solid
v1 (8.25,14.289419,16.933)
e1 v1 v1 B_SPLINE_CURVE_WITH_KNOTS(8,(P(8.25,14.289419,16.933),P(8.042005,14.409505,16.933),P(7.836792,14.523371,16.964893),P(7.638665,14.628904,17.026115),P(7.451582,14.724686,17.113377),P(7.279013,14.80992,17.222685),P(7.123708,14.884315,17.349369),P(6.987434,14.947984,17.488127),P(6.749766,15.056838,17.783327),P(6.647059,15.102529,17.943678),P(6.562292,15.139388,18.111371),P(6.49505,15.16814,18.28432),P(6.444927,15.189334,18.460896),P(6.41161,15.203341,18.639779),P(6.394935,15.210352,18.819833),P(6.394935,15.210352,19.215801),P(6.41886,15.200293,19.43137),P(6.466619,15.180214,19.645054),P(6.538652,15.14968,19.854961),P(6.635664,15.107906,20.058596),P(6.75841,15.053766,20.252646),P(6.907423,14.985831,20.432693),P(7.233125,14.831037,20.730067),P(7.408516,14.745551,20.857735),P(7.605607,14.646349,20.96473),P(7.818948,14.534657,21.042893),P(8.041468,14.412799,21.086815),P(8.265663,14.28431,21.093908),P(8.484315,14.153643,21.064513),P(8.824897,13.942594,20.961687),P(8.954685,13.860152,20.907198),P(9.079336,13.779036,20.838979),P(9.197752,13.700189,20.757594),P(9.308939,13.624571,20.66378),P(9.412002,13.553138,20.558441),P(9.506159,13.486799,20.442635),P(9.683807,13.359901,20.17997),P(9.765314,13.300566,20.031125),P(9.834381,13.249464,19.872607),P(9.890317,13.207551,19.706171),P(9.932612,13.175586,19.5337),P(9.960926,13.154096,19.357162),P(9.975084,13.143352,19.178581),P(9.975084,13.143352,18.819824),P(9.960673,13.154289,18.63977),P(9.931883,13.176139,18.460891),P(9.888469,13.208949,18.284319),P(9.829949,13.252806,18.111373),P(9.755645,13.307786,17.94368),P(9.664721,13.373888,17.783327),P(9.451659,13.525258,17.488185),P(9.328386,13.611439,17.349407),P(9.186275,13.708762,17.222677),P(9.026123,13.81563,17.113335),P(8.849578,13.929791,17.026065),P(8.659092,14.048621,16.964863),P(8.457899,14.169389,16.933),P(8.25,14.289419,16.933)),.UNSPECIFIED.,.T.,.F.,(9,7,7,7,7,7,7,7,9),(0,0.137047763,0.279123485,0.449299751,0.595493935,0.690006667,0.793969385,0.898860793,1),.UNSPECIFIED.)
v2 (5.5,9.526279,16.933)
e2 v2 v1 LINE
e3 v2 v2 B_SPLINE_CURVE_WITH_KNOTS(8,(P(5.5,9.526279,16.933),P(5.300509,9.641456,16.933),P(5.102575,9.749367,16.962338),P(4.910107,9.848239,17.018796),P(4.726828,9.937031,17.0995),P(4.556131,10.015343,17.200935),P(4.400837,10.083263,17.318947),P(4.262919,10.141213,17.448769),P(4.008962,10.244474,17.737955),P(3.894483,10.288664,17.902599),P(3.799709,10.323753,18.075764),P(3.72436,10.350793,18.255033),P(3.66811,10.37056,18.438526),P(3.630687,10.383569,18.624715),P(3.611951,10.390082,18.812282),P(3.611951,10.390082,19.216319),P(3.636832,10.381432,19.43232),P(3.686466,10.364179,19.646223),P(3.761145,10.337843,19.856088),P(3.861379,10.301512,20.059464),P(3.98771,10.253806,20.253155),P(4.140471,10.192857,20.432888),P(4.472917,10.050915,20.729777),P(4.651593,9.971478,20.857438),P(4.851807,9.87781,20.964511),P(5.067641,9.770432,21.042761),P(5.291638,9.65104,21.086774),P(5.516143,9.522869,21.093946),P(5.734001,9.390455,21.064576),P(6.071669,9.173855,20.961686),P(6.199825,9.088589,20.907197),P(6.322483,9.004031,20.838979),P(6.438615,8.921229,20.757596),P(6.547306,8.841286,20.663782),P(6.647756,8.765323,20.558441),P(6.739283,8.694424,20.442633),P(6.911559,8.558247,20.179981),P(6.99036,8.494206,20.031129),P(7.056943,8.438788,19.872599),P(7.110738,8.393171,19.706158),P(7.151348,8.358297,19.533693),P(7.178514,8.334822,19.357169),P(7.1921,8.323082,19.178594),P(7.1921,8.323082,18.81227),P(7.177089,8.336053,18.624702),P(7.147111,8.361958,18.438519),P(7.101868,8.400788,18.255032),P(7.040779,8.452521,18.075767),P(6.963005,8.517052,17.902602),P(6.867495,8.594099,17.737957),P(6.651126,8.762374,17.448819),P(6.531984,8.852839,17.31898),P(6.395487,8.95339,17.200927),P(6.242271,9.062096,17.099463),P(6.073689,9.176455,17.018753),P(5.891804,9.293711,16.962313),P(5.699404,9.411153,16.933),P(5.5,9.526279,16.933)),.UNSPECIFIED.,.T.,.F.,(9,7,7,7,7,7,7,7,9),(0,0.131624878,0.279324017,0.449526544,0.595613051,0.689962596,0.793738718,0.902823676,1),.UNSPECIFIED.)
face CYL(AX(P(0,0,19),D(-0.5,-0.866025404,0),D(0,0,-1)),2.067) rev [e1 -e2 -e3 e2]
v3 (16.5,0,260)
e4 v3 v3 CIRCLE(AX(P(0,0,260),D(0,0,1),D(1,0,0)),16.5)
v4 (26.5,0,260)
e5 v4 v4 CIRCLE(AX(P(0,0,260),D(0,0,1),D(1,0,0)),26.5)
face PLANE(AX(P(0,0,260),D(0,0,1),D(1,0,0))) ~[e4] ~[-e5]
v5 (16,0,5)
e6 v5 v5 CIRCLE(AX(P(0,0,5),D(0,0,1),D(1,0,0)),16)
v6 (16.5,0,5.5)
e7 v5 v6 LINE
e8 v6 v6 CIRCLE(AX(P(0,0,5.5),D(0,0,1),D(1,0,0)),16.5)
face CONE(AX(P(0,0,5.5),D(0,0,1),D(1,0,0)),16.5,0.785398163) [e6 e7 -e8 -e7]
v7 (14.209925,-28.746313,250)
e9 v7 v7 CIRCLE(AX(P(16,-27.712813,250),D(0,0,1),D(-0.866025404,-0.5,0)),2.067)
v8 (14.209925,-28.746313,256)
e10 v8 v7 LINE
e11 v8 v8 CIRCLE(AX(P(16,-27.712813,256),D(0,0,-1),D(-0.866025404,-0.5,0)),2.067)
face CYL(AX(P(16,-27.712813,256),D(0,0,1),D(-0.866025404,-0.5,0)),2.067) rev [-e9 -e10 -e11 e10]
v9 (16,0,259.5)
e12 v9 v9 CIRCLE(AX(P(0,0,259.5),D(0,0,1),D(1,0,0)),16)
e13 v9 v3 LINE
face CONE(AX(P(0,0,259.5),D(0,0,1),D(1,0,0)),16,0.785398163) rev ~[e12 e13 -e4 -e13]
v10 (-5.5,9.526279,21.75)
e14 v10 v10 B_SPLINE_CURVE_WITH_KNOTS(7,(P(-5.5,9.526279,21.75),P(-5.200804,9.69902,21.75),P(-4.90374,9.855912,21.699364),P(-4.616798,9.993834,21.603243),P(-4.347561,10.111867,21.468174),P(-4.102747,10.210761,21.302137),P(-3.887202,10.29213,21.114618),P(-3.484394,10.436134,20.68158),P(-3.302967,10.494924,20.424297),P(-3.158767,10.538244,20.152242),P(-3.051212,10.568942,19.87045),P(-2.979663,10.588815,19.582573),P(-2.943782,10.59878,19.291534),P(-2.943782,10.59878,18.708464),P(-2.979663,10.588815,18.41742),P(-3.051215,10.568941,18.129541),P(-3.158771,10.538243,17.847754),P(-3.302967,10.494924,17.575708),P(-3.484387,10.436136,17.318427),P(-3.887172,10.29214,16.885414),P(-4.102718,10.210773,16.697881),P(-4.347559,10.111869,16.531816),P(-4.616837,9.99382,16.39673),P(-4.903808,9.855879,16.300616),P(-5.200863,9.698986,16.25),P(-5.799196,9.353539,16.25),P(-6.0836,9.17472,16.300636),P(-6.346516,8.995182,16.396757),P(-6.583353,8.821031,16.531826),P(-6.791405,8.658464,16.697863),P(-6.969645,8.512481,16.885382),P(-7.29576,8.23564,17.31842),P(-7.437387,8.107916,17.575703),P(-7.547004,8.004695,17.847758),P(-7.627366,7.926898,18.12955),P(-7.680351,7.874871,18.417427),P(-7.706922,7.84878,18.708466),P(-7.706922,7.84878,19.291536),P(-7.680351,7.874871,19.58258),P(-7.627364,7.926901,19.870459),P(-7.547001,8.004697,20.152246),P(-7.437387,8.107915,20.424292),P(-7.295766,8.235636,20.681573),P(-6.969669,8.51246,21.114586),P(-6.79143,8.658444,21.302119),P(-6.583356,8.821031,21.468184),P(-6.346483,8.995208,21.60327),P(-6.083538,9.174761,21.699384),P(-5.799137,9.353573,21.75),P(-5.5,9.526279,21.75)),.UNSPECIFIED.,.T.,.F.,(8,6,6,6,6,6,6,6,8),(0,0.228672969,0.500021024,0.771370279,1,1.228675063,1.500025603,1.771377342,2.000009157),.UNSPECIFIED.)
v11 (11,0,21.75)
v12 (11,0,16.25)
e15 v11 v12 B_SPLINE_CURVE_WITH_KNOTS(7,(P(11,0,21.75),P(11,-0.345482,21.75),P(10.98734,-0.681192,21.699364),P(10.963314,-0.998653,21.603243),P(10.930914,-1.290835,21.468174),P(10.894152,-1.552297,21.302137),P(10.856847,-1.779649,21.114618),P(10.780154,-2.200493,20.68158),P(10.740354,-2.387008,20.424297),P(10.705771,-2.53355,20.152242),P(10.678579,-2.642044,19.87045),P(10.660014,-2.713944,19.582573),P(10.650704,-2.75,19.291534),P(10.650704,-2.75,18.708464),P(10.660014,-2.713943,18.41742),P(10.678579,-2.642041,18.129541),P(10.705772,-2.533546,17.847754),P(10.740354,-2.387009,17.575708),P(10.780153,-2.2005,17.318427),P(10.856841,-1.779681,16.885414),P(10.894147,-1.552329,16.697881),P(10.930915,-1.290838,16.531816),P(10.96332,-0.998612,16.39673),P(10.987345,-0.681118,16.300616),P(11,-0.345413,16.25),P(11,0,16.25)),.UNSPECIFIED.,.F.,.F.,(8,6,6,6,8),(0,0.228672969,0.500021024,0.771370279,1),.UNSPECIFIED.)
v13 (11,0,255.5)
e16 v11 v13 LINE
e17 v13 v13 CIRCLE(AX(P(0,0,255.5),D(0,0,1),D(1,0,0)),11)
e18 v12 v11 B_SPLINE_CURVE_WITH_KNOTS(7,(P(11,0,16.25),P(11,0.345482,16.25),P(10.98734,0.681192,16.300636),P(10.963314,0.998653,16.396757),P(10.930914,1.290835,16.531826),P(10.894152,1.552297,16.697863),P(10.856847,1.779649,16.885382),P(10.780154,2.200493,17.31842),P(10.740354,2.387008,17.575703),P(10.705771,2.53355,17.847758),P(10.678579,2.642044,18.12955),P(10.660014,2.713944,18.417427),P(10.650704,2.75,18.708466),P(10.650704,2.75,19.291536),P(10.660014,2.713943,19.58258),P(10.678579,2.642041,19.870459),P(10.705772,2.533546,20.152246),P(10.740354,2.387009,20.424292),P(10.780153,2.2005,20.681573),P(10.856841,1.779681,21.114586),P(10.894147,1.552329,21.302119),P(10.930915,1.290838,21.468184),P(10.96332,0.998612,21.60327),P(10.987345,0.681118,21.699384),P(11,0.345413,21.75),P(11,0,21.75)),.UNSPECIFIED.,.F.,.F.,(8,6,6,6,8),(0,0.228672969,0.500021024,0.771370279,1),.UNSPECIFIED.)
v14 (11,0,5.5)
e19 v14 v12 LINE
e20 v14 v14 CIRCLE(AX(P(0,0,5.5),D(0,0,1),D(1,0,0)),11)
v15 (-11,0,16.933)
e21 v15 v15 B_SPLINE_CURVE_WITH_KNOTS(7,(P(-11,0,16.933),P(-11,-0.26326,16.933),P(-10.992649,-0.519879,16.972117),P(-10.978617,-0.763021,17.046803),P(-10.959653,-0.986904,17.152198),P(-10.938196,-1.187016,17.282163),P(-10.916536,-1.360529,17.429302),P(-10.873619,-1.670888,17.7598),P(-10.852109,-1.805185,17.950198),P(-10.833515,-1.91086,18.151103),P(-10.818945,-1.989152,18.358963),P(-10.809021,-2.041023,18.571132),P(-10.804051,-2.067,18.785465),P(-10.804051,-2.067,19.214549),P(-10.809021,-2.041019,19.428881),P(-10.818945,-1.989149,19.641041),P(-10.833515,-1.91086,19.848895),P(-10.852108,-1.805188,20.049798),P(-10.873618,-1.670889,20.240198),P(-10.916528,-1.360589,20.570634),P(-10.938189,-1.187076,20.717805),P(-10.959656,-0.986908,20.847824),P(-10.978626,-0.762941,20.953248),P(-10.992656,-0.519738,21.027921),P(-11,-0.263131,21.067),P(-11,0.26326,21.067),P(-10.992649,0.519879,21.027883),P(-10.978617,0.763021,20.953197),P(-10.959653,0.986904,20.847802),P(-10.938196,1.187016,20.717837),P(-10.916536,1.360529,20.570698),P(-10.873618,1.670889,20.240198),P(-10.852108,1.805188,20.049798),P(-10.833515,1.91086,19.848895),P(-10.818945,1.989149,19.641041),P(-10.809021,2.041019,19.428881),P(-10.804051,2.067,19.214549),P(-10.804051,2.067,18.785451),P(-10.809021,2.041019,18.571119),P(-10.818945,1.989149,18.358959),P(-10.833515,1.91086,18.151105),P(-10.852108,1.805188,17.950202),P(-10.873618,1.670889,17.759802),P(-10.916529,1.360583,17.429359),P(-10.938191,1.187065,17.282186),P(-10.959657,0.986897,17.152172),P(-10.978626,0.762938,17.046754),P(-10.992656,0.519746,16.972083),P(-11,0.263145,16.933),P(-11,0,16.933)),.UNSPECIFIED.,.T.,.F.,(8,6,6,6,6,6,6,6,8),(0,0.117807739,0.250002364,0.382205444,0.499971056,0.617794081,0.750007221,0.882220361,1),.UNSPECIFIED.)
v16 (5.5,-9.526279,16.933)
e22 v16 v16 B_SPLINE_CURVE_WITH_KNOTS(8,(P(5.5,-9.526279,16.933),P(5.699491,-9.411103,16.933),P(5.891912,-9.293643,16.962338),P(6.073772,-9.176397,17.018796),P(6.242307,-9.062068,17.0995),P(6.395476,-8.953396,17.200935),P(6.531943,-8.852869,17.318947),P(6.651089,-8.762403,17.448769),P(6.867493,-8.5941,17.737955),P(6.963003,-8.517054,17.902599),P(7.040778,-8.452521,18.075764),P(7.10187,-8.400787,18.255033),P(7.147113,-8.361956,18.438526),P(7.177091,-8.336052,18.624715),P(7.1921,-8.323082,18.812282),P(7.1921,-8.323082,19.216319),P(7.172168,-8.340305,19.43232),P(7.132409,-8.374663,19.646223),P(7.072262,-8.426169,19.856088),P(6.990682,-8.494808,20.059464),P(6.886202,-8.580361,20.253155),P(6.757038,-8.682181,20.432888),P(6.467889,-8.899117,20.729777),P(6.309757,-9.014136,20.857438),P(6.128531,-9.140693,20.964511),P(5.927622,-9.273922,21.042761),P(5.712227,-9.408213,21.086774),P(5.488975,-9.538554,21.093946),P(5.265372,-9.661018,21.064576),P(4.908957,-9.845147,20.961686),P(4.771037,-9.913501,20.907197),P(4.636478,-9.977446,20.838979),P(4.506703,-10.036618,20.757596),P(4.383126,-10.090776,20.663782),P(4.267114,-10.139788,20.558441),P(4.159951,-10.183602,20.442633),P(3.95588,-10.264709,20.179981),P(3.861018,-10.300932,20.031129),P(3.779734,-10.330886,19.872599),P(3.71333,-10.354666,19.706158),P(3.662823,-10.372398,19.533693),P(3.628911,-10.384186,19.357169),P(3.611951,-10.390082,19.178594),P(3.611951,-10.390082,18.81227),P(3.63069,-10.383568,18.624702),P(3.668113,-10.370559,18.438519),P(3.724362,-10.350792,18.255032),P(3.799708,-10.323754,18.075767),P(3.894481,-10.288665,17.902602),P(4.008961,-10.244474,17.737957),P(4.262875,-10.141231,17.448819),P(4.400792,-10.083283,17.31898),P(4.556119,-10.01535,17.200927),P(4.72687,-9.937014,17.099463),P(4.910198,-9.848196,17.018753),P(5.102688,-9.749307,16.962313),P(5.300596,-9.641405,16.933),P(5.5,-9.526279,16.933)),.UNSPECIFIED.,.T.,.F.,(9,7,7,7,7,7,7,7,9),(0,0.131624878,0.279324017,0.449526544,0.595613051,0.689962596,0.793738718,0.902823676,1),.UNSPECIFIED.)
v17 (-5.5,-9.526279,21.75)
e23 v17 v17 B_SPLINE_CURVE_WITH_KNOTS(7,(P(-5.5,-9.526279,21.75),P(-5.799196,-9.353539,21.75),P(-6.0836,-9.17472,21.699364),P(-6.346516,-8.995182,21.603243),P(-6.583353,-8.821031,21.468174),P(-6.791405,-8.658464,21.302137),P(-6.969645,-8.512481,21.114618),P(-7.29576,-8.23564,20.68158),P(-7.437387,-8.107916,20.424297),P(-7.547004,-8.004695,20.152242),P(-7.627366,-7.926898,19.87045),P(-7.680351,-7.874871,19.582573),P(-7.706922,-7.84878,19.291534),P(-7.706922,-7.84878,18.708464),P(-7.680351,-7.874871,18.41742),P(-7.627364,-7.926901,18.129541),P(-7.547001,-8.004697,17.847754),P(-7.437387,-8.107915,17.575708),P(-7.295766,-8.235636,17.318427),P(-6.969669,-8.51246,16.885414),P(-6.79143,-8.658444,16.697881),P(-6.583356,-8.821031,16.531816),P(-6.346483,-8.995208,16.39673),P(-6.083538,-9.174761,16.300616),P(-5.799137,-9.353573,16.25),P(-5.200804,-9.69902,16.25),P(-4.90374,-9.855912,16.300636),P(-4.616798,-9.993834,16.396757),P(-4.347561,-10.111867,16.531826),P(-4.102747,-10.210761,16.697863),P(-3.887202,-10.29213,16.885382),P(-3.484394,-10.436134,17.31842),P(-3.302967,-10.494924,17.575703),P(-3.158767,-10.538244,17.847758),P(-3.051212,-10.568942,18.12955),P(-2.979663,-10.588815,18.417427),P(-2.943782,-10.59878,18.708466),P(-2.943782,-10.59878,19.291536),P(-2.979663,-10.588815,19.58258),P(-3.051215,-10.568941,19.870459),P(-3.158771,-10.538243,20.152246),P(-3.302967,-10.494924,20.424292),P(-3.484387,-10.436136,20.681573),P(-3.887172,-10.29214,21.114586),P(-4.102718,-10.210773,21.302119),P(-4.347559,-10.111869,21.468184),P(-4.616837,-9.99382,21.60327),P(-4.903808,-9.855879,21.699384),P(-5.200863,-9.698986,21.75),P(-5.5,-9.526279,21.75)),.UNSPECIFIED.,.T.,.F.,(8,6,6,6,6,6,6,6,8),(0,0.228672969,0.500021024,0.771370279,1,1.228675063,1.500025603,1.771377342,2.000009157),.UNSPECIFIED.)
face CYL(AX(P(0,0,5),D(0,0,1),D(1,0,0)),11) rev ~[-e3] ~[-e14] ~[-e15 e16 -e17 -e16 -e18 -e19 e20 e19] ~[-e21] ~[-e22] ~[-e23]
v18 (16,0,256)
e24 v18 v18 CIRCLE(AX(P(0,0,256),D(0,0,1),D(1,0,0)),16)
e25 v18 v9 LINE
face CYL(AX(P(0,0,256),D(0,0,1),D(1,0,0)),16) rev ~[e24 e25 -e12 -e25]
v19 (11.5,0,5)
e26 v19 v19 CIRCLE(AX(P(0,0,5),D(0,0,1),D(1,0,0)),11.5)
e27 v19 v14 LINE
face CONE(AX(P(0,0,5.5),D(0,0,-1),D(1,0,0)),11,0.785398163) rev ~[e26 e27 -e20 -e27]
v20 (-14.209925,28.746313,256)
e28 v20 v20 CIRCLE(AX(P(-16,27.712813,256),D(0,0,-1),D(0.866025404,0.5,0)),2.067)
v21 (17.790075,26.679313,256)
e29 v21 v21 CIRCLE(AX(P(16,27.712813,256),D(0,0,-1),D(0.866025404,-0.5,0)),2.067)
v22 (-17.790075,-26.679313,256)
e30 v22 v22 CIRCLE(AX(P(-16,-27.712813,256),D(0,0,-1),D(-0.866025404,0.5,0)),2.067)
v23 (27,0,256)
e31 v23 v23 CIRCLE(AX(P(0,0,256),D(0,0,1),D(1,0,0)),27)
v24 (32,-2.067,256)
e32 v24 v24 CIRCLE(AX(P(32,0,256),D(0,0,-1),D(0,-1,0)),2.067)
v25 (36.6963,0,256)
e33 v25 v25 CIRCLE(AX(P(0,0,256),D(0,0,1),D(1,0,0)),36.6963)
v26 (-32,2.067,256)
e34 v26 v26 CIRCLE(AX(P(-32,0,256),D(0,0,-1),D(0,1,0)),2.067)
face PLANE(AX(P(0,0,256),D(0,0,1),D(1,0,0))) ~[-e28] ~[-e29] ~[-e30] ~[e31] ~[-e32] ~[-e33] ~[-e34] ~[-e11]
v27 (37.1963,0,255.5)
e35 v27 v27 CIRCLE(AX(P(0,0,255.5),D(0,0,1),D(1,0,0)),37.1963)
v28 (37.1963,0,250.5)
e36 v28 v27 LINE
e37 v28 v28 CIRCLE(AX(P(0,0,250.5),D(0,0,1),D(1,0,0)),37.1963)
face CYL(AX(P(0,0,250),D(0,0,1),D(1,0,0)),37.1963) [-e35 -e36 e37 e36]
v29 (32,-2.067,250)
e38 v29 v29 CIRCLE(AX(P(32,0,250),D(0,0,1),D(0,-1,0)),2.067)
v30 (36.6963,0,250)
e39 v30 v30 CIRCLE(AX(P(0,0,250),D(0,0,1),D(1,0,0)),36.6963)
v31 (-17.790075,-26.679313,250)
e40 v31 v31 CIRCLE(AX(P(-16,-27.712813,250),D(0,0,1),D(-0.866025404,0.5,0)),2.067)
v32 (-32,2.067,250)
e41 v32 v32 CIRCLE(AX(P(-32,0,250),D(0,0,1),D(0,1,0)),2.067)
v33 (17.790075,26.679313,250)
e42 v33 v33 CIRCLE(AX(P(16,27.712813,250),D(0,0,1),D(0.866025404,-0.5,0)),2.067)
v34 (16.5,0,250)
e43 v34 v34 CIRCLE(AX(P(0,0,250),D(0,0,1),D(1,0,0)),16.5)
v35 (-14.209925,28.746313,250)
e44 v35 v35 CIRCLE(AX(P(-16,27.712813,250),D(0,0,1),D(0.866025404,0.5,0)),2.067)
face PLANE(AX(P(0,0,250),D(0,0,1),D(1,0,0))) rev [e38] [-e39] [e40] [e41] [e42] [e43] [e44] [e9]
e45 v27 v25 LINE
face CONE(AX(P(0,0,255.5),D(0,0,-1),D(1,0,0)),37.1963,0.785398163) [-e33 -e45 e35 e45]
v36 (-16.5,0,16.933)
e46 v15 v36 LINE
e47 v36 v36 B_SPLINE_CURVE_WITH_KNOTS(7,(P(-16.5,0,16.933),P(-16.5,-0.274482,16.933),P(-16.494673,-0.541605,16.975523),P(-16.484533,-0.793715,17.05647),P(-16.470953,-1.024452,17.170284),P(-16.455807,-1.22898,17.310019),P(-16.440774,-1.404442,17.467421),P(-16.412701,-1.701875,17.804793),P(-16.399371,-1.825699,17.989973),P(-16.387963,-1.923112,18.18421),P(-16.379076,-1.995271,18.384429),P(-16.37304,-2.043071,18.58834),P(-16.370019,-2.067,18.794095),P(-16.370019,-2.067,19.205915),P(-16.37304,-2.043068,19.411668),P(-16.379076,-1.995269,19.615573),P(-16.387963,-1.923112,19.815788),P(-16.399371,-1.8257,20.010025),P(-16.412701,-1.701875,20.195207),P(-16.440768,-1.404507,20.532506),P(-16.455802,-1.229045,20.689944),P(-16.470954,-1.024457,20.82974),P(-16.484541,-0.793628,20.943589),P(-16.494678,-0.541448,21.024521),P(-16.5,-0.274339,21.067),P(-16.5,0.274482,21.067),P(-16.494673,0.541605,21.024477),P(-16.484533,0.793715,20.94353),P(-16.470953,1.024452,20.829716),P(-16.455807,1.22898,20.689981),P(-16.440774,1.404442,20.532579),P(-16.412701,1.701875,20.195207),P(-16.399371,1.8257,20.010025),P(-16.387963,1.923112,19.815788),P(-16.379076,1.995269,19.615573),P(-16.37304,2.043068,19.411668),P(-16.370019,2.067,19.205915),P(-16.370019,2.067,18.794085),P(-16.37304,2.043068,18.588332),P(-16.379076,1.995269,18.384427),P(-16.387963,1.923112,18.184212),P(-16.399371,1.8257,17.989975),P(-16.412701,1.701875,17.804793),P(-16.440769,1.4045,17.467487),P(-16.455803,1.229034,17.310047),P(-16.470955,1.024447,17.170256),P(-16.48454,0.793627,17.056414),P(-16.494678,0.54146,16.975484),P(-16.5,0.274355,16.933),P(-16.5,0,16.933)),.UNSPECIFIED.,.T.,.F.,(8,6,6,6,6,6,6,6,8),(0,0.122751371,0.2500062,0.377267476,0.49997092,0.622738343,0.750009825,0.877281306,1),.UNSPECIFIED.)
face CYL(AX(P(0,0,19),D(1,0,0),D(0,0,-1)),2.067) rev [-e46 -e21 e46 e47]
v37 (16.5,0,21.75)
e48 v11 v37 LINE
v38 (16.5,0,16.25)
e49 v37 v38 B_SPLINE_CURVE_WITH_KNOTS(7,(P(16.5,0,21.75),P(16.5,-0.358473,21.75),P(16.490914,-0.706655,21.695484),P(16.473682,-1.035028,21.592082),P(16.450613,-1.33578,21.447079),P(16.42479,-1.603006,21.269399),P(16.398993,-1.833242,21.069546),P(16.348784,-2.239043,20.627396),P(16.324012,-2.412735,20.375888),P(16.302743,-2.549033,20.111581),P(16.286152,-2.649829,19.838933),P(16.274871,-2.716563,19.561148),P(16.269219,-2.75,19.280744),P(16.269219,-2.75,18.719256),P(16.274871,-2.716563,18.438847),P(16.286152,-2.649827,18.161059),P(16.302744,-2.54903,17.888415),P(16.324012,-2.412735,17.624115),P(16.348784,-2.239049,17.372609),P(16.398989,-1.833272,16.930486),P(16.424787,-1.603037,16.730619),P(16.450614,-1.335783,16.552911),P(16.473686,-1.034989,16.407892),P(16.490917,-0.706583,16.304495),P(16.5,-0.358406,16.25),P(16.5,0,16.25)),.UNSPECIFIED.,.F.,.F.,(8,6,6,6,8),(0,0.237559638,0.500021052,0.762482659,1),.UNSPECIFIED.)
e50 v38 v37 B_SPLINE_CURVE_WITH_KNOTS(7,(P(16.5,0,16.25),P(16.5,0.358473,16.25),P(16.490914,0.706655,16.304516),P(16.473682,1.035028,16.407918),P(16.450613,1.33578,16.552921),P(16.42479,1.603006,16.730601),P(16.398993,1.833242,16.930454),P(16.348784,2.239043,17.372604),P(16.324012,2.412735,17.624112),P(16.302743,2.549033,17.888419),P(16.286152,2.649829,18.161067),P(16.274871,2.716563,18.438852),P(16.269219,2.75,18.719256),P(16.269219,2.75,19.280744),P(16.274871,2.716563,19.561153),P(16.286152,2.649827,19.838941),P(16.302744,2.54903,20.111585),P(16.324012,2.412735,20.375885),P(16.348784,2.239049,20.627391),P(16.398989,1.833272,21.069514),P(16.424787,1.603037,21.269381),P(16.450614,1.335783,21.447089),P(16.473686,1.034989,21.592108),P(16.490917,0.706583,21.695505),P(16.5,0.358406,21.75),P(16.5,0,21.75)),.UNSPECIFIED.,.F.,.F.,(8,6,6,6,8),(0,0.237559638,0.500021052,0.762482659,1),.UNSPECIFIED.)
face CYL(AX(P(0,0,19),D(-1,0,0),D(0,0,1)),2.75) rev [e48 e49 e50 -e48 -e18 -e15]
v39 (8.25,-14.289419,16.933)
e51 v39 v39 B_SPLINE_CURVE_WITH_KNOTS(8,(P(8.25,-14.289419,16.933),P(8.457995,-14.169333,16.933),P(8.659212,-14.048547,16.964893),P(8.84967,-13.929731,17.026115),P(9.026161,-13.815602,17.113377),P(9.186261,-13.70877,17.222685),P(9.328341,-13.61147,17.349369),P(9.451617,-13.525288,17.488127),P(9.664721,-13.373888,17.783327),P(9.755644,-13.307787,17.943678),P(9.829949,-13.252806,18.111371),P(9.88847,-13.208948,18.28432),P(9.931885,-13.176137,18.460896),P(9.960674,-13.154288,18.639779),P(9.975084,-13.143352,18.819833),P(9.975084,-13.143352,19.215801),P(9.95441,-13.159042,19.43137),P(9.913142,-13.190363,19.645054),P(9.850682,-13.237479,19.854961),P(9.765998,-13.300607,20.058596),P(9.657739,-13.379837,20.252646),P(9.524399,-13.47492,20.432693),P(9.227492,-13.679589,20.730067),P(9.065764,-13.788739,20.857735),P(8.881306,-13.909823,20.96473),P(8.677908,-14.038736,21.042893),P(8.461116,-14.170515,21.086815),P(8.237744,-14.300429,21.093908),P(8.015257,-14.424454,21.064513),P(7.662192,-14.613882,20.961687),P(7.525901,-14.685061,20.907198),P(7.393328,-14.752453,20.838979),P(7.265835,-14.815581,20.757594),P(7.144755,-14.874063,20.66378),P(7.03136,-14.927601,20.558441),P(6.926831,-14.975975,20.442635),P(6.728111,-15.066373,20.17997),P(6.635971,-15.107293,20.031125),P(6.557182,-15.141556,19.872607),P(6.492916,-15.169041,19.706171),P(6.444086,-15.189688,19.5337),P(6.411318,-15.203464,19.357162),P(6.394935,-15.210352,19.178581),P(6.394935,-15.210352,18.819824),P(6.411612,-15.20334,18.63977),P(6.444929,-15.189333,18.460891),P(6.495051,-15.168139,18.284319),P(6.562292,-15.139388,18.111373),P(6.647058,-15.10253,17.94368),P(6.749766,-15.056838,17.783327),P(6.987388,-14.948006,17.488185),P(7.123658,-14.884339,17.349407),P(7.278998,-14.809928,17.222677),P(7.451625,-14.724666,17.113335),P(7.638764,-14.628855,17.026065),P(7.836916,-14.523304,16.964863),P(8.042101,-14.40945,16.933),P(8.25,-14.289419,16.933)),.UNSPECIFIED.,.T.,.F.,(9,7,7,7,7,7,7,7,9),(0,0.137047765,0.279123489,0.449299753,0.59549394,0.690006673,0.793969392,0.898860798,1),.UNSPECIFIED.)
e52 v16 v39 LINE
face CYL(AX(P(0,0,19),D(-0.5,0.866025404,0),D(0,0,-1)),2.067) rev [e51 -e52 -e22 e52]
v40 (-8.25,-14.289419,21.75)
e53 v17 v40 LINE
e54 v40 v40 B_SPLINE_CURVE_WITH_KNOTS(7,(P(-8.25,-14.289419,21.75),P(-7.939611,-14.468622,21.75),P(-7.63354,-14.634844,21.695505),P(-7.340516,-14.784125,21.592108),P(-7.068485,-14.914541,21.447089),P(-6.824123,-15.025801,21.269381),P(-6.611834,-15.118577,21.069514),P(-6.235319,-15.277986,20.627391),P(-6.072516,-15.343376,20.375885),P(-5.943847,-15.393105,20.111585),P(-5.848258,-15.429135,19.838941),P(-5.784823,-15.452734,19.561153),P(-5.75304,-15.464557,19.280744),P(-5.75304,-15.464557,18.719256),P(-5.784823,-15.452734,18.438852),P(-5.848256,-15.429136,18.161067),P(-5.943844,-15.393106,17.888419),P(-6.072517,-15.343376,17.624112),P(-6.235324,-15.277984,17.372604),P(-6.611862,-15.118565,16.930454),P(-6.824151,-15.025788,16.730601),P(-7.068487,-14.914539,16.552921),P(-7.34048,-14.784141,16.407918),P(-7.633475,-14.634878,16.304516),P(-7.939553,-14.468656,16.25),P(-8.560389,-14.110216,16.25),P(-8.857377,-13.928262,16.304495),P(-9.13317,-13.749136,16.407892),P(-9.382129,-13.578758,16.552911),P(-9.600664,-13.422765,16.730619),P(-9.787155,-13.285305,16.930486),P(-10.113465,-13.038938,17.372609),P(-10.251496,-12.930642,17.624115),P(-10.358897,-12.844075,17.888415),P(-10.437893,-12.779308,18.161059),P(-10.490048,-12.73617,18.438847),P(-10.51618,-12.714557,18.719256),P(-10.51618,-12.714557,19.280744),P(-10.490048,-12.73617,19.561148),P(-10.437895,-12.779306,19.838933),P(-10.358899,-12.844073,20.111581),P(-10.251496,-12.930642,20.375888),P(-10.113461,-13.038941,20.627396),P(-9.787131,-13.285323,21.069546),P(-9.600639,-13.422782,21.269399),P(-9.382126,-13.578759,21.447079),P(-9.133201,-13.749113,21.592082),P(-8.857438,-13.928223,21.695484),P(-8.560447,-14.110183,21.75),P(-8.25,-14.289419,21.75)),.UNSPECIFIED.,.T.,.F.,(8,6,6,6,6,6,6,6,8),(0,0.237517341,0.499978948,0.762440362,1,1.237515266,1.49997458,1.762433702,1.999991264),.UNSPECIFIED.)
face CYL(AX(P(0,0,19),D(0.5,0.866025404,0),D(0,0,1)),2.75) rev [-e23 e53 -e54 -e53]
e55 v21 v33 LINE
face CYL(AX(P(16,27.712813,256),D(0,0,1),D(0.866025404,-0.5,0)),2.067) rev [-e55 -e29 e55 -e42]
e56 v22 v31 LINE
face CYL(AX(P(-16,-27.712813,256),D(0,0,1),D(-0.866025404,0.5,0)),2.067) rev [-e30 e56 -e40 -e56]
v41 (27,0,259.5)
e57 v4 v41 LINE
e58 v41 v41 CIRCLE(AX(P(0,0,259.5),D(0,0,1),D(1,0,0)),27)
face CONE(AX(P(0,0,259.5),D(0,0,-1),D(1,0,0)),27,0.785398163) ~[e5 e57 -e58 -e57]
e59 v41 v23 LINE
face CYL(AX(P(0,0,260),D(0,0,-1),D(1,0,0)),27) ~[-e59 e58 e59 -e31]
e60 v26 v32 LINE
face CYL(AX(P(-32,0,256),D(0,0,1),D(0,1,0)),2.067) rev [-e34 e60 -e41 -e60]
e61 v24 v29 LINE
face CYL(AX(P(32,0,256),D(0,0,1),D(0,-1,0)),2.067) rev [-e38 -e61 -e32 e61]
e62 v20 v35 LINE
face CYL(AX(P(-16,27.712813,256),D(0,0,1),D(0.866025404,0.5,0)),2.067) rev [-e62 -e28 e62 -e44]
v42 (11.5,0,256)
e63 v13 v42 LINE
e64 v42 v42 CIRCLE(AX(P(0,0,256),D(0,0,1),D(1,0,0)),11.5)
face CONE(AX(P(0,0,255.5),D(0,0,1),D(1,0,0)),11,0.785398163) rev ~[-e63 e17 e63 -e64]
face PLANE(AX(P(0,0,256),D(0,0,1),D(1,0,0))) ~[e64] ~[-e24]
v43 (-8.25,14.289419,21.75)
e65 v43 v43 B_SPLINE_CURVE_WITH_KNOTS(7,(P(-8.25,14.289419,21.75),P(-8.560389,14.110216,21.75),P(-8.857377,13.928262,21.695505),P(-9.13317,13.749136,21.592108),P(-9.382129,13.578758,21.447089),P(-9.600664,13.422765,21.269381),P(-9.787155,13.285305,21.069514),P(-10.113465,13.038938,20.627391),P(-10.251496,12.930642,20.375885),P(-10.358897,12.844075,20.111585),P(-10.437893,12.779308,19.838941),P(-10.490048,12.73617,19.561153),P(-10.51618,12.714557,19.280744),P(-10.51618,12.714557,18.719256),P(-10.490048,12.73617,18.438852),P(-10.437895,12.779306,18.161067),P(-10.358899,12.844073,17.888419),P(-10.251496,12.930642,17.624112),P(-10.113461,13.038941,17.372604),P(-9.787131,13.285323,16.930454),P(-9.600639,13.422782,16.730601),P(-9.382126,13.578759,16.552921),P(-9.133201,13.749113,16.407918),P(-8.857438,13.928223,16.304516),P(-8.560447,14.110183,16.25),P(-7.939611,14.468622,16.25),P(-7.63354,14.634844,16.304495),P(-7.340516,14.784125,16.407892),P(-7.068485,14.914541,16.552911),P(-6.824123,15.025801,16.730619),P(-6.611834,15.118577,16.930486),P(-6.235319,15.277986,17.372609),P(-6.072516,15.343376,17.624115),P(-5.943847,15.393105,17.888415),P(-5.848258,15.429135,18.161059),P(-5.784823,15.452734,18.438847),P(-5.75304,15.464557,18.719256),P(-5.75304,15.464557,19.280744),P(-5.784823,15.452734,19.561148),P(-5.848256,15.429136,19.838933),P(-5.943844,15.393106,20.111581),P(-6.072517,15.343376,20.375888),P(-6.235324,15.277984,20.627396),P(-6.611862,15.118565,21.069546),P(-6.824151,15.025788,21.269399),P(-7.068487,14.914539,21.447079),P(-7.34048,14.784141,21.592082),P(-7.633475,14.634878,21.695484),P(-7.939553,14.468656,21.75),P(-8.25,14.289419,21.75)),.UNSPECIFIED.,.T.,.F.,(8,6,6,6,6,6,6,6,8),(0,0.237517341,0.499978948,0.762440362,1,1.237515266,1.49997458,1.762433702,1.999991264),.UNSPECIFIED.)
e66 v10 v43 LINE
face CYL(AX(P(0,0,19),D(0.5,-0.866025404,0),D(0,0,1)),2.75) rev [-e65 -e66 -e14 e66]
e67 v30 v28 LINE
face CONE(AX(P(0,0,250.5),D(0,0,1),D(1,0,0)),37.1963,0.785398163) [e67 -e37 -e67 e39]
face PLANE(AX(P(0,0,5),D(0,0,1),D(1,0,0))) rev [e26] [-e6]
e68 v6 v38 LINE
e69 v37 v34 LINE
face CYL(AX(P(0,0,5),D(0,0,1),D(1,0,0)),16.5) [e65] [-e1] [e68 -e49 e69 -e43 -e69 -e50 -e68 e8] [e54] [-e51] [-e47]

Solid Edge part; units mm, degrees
sketch "Sketch1" plane through (0, 0, 0) normal (0, -1, 0) x (1, 0, 0)
  line L0 (11, 5) -> (16.5, 5)
  line L1 (16.5, 5) -> (16.5, 250)
  line L2 (16.5, 250) -> (37.1963, 250)
  line L3 (37.1963, 250) -> (37.1963, 256)
  line L4 (27, 256) -> (37.1963, 256)
  line L5 (27, 260) -> (27, 256)
  line L6 (16, 260) -> (27, 260)
  line L7 (16, 256) -> (16, 260)
  line L8 (11, 256) -> (16, 256)
  line L9 (11, 5) -> (11, 256)
  dimension "D1" = 5
  dimension "D2" = 245
  dimension "D3" = 6
  dimension "D4" = 4
  dimension "D5" = 4
revolve "RevolvedProtrusion1" add sketch "Sketch1" angle 360 about axis through (0, 0, 0) along (0, 0, 1)
hole "Hole1" at (0, 0, 19) direction (-1, 0, 0) diameter 4.134 end through all
hole "Hole_2" at (0, 0, 19) direction (1, 0, 0) diameter 5.5 end up to next
hole "Hole_3" at (32, 0, 256) direction (0, 0, -1) diameter 4.134 end through all
pattern_circular "Pattern1" count 6 over 360 about axis through (0, 0, 260) along (0, 0, -1) of "Hole_3"
chamfer "Chamfer_1" distance 0.5 angle 45 7 edges at (-11, 0, 5) (-16.5, 0, 5) (-37.1963, 0, 250) (-37.1963, 0, 256) (-27, 0, 260) (-16, 0, 260) (-11, 0, 256)
pattern_circular "Pattern3" count 3 over 360 about axis through (0, 0, 5) along (0, 0, 1) of "Hole_2", "Hole1"
properties material "Steel"
